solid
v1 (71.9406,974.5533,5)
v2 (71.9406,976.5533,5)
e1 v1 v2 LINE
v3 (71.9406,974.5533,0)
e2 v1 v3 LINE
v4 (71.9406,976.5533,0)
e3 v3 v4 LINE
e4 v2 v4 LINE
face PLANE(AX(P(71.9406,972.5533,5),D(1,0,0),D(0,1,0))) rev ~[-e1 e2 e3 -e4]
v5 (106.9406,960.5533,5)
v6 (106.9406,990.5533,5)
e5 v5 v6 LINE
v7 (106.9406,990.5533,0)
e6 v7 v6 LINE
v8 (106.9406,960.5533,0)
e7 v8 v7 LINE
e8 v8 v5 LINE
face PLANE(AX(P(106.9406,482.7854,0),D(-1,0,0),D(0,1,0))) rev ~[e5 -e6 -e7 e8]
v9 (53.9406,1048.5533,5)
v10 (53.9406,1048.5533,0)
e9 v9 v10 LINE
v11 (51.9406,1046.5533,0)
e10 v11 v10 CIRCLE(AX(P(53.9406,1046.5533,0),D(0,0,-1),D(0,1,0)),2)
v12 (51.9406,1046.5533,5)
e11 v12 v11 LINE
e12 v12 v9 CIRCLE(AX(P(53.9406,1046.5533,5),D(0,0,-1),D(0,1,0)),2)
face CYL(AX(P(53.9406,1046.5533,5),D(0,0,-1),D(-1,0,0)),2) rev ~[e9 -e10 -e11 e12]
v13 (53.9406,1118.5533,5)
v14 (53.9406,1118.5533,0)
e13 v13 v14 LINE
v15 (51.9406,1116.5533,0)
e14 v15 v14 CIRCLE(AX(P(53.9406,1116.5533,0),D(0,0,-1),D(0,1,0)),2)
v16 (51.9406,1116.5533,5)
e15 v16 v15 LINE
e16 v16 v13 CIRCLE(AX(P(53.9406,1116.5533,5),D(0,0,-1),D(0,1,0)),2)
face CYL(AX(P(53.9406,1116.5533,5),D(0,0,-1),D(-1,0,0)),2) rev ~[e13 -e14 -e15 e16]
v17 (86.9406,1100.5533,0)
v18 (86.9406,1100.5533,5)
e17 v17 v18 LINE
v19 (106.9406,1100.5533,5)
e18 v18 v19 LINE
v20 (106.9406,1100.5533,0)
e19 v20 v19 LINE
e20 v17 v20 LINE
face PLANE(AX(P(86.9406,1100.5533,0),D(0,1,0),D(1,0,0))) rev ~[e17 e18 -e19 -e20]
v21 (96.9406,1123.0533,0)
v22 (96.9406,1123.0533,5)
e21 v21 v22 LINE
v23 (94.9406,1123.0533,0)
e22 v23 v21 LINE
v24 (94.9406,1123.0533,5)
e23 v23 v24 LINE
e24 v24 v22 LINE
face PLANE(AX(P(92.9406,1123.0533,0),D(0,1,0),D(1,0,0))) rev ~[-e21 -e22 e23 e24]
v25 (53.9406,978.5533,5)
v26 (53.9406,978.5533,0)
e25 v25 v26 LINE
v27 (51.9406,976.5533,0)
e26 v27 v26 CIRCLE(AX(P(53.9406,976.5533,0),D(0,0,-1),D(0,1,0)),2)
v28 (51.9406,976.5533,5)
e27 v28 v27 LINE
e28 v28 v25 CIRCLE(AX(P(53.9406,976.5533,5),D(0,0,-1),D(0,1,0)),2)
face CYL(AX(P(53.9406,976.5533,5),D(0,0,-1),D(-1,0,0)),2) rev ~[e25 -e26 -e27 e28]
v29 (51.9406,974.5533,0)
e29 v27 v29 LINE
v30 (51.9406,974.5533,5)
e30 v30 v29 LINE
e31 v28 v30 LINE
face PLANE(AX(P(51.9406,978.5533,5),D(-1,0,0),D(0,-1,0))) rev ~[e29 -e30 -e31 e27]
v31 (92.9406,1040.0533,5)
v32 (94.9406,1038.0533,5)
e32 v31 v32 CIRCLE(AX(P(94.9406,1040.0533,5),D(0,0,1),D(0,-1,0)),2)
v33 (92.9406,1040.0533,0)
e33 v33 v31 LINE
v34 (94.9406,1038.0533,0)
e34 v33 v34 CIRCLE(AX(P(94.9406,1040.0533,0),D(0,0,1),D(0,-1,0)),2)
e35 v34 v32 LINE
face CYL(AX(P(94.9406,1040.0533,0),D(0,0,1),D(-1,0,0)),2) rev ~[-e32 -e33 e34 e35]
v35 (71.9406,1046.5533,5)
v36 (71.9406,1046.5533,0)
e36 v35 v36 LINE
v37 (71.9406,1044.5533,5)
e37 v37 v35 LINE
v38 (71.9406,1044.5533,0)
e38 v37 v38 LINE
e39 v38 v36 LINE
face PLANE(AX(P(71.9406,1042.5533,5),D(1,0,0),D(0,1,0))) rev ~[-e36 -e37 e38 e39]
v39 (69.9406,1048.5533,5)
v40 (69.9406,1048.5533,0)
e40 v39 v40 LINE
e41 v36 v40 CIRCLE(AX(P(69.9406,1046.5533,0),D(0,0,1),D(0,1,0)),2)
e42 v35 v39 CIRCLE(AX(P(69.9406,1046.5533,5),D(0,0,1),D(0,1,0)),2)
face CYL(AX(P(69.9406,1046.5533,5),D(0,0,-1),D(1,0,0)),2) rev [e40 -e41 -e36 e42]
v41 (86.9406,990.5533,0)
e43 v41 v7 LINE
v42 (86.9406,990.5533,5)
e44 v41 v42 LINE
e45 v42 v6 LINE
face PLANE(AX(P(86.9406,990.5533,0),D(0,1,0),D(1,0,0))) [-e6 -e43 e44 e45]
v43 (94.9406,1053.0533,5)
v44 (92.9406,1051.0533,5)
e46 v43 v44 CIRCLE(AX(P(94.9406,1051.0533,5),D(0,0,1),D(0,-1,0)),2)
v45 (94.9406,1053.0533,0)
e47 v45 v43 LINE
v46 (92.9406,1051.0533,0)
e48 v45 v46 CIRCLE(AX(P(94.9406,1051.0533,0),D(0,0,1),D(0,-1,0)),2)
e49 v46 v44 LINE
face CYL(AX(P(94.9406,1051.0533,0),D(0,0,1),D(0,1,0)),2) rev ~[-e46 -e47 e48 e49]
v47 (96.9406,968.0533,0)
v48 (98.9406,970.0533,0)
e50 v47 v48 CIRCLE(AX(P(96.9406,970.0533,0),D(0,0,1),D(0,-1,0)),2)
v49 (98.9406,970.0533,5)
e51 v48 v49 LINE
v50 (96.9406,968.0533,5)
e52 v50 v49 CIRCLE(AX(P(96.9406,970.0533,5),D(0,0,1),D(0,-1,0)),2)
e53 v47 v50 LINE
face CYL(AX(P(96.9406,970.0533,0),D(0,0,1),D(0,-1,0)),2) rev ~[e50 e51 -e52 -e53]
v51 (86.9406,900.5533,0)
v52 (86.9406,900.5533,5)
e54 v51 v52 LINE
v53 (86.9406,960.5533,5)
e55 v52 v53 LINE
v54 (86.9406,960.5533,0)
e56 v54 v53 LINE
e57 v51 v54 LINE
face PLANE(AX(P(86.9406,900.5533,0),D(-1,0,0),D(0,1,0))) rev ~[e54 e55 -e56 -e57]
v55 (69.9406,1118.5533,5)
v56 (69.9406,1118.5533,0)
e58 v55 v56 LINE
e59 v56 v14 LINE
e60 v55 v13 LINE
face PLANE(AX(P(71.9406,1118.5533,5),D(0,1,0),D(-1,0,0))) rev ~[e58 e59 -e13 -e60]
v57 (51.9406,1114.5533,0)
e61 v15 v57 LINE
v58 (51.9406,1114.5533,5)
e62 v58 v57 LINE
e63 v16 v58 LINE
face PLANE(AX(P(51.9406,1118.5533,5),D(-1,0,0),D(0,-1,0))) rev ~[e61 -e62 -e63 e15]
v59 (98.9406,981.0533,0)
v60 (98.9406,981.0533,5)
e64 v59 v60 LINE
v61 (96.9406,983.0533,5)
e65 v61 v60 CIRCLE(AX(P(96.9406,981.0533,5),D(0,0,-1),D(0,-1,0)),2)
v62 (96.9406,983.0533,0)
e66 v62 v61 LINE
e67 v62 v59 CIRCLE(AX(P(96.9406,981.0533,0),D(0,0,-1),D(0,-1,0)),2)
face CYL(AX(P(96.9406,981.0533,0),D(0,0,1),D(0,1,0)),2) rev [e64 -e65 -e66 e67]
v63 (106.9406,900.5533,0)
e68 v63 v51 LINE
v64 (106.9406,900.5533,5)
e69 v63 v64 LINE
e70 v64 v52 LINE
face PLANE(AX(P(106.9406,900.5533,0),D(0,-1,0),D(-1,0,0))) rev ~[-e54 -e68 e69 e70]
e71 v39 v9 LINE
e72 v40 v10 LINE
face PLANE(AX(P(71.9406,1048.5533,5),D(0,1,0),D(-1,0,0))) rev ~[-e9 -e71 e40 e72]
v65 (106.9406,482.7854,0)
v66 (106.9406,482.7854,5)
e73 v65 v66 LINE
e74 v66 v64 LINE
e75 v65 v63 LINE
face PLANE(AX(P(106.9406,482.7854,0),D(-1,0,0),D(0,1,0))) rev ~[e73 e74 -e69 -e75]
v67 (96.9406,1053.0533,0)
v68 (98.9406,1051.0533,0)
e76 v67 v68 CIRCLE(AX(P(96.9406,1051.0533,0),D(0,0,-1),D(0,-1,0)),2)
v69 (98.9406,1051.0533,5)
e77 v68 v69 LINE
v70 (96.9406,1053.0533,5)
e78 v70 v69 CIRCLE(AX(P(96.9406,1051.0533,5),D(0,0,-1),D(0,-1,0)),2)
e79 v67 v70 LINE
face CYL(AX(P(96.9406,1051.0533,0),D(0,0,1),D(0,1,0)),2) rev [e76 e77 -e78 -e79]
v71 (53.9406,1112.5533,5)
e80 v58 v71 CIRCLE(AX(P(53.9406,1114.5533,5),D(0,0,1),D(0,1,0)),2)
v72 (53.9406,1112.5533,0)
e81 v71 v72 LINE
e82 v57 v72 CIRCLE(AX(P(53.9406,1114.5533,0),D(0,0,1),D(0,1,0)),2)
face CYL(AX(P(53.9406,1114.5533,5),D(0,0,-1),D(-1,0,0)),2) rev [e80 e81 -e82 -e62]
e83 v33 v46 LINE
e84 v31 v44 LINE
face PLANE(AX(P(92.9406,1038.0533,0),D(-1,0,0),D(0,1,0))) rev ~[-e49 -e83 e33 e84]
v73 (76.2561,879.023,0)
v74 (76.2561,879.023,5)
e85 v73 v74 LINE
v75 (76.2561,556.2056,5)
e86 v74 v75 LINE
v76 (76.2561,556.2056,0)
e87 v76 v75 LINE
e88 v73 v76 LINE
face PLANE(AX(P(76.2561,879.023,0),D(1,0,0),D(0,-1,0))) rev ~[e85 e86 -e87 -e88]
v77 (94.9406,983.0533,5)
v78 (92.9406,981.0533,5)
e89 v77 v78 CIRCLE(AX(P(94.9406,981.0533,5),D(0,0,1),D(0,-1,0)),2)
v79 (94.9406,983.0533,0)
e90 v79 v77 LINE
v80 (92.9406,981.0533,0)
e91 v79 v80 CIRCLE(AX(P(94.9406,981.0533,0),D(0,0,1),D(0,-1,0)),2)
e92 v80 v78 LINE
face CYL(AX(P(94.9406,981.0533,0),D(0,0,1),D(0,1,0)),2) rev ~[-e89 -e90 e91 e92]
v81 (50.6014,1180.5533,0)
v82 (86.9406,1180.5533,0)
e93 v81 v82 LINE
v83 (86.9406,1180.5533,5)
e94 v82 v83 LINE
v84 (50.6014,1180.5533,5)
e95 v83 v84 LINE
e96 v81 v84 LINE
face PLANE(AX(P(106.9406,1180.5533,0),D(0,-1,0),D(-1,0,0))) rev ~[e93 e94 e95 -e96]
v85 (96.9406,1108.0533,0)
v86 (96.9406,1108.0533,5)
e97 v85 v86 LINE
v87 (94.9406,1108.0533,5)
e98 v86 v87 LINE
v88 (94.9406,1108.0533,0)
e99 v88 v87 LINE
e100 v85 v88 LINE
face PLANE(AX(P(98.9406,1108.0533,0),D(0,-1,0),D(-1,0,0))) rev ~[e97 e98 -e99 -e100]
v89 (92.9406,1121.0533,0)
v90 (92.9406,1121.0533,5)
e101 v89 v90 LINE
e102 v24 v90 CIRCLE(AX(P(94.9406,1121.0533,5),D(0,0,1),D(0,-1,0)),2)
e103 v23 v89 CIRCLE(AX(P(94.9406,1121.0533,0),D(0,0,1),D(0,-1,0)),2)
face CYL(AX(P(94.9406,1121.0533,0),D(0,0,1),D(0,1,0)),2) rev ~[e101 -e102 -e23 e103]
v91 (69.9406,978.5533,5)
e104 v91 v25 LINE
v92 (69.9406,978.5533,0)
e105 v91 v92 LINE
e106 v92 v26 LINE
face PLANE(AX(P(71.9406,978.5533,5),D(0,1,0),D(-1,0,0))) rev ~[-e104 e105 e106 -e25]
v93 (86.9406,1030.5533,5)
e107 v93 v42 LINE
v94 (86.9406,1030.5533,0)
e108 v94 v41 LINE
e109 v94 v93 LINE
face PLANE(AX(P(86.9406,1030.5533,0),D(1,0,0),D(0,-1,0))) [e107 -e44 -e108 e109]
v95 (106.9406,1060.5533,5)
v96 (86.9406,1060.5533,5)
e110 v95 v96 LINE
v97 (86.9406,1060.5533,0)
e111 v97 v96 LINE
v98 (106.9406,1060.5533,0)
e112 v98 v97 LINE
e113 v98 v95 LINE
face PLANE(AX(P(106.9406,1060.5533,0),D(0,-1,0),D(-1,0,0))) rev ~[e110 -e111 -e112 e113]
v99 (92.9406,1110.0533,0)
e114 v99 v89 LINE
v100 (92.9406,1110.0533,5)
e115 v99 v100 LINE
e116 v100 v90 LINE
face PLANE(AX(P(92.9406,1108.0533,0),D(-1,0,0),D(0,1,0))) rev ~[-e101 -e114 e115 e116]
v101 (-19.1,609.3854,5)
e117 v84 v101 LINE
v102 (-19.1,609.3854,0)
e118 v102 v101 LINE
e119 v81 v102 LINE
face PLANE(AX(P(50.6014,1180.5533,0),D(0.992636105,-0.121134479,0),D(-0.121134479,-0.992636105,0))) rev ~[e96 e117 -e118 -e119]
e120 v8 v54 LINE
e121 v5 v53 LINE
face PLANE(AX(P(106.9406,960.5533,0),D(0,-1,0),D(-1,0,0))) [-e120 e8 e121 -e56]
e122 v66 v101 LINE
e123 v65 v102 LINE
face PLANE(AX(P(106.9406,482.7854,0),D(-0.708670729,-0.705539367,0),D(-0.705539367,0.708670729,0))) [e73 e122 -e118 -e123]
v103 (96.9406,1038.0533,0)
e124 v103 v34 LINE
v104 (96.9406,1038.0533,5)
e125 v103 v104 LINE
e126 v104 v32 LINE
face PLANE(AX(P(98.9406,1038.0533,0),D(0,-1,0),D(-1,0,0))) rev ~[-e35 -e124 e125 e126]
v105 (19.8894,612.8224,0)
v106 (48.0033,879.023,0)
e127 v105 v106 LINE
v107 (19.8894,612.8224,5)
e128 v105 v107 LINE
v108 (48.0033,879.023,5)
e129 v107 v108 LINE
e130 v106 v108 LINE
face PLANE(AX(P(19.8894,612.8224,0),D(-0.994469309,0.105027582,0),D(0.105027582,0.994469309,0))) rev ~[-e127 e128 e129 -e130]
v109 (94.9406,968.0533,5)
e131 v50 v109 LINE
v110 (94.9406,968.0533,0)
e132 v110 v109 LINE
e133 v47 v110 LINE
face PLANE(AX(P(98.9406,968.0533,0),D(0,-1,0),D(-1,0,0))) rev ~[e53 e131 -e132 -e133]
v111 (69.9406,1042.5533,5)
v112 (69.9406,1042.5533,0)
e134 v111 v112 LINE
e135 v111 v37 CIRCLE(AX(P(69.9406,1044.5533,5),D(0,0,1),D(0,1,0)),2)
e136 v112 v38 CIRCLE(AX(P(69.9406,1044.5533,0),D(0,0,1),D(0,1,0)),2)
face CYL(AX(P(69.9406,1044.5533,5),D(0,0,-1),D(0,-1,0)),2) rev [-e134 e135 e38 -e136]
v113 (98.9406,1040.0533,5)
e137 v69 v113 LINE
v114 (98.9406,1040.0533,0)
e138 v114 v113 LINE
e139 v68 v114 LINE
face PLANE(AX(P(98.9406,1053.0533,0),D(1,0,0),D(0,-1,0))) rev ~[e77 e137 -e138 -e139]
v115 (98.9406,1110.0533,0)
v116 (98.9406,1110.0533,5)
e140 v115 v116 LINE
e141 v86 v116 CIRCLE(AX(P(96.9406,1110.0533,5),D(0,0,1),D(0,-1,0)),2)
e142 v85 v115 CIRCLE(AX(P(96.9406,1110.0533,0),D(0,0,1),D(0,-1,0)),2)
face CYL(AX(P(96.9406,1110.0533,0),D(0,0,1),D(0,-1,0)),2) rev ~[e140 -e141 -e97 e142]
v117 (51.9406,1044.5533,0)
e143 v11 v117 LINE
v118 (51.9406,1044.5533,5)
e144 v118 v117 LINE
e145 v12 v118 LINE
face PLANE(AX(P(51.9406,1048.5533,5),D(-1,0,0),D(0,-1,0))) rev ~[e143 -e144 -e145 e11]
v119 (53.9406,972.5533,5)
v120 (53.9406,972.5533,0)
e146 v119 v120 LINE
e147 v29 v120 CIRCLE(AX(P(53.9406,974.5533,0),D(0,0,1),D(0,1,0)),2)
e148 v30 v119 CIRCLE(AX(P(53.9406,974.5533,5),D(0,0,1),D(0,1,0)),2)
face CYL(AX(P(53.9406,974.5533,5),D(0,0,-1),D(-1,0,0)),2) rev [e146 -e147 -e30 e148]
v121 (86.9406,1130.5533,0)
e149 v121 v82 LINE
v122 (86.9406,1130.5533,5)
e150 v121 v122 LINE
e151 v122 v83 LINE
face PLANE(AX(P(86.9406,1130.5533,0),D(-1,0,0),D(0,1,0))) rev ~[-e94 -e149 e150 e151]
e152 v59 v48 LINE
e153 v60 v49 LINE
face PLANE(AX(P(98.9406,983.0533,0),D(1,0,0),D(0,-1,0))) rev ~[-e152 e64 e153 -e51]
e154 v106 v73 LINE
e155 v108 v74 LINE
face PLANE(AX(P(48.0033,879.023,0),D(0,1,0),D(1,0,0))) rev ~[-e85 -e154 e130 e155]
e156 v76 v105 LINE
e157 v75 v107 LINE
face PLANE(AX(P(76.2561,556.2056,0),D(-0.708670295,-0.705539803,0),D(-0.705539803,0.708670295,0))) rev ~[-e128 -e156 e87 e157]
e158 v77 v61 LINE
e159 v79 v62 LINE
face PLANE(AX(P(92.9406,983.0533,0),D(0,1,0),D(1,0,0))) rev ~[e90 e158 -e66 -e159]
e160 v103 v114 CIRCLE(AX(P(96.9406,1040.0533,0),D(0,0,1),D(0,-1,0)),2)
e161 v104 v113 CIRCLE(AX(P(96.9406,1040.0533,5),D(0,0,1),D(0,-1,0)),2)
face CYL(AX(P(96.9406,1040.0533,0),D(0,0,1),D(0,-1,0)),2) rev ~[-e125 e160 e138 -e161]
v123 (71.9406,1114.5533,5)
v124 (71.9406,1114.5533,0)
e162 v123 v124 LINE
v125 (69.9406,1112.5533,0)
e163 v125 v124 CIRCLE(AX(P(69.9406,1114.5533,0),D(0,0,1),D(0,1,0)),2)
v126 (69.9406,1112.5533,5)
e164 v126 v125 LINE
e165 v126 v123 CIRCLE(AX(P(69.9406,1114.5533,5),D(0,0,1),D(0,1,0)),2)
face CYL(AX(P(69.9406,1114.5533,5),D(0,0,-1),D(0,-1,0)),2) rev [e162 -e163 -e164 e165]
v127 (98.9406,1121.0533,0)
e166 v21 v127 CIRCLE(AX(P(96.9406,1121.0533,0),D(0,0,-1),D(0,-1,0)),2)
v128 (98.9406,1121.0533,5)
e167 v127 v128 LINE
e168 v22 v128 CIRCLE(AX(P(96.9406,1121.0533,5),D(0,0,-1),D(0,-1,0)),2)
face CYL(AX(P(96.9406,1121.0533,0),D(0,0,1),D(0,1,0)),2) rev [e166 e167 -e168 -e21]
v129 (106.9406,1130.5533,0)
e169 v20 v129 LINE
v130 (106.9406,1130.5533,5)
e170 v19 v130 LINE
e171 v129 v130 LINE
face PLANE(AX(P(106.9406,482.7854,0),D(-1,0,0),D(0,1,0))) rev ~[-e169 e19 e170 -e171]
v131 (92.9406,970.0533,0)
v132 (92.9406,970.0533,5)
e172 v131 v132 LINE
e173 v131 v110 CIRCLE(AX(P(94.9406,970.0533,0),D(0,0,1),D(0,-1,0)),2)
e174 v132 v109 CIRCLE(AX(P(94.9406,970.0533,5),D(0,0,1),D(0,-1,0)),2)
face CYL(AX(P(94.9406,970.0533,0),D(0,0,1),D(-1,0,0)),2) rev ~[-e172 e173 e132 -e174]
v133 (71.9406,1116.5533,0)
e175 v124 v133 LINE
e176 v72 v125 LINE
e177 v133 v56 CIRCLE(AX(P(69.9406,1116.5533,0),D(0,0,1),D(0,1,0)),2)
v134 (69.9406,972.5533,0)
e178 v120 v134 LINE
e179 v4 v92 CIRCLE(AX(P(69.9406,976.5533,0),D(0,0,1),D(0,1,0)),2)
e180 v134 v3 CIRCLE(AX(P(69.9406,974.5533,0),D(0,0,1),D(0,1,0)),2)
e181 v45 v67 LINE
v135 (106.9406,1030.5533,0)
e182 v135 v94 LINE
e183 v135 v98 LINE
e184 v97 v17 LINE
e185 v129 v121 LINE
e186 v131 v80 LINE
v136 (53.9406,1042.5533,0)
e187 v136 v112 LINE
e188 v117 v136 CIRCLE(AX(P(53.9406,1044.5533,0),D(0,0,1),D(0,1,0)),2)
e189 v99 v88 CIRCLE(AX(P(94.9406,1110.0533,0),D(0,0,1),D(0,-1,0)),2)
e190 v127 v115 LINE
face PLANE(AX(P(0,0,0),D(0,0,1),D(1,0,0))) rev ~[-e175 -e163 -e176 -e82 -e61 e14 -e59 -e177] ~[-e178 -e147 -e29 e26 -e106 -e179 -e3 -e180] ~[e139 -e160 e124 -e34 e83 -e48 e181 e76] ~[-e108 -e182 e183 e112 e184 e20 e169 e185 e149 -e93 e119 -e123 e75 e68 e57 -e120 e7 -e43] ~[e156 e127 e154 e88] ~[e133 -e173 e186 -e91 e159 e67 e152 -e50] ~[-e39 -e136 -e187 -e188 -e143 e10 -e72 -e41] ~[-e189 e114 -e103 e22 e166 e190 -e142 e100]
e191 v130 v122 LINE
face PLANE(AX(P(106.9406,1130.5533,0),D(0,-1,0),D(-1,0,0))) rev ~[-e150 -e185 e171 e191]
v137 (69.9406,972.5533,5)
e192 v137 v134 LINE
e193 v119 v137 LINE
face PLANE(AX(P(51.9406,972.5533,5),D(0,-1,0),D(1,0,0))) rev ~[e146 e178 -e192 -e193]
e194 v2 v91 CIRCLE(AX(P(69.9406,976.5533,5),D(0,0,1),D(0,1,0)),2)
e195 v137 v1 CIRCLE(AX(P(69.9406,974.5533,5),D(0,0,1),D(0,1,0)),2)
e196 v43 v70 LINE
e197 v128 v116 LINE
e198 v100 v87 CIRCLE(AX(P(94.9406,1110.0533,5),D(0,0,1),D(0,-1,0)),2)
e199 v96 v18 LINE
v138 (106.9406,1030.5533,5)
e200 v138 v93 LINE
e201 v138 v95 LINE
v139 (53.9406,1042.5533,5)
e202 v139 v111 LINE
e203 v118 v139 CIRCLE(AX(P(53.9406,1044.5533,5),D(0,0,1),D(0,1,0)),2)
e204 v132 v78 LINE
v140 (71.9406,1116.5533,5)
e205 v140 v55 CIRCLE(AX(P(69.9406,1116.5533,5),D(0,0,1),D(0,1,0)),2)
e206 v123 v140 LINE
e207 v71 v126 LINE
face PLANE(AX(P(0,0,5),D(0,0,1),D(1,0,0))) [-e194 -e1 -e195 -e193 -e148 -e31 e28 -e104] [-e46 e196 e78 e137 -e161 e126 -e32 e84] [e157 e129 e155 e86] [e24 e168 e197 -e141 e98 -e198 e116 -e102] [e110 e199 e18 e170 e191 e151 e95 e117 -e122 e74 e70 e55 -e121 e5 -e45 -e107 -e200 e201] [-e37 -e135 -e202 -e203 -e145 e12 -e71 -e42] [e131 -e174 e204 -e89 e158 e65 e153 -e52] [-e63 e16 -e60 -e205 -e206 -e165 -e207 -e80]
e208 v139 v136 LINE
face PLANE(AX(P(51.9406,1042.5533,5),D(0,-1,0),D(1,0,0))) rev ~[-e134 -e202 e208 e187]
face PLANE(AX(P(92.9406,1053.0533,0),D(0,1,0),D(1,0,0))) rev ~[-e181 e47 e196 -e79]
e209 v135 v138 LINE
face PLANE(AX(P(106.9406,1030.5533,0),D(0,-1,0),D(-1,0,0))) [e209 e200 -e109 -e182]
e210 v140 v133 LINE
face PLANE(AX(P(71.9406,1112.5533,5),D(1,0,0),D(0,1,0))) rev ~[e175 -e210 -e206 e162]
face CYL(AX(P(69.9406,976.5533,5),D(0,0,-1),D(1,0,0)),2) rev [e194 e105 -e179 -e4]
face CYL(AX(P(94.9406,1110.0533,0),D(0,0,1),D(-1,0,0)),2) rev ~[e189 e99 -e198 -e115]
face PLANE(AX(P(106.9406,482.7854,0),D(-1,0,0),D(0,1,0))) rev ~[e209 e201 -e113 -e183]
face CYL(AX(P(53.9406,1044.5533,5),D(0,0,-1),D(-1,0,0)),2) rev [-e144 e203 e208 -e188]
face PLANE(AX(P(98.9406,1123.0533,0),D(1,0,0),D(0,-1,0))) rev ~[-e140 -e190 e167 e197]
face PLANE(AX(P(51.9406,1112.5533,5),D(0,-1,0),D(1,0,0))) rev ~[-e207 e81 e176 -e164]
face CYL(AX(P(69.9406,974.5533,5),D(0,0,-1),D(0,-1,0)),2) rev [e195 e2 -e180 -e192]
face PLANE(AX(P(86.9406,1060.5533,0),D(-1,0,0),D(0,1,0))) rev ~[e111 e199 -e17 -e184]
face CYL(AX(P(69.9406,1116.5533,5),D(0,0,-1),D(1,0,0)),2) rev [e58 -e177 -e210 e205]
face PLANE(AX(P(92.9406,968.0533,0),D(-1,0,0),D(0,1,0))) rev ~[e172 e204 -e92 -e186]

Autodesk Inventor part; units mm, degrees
ref_plane "YZ Plane" through (0, 0, 0) normal (1, 0, 0) x (0, 1, 0)
ref_plane "XZ Plane" through (0, 0, 0) normal (0, 1, 0) x (-1, 0, 0)
ref_plane "XY Plane" through (0, 0, 0) normal (0, 0, 1) x (1, 0, 0)
sketch "Szkic1" plane through (0, 0, 0) normal (0, 0, 1) x (1, 0, 0)
  line L0 (176.3308, 486.6406) -> (176.3308, 940.0878) construction
  line L1 (146.3308, 1046.0878) -> (146.3308, 531.0878) construction
  line L2 (246.3308, 494.0715) -> (246.3308, 1046.1041) construction
  line L3 (-96.6896, 915.5533) -> (106.9406, 915.5533) construction
  line L4 (106.9406, 482.7854) -> (106.9406, 1180.5533)
  line L5 (106.9406, 482.7854) -> (-19.1, 609.3854)
  line L6 (50.6014, 1180.5533) -> (-19.1, 609.3854)
  line L7 (19.8894, 612.8224) -> (76.2561, 1146.5389)
  line L8 (76.2561, 1146.5389) -> (76.2561, 556.2056)
  line L9 (43.2451, 833.9694) -> (8.8194, 838.1705) construction
  line L10 (76.2561, 556.2056) -> (54.9566, 535.0002) construction
  line L11 (76.2561, 613.2072) -> (106.9406, 613.2072) construction
  line L12 (76.2561, 556.2056) -> (19.8894, 612.8224)
  line L13 (14.654, 575.0721) -> (120.72, 469.0061) construction
  line L14 (10.3406, 579.3854) -> (14.654, 575.0721) construction
  line L15 (-19.1, 622) -> (-19.1, 0) construction
  line L16 (-8.2, 622) -> (-16.1, 622) construction
  line L17 (-6.6931, 622) -> (-1.5069, 622) construction
  line L18 (-19.1, 622) -> (-16.1, 622) construction
  line L19 (7.9, 622) -> (0, 622) construction
  line L20 (10.9, 621.8118) -> (36.4266, 596.2853) construction
  line L21 (36.4266, 596.2853) -> (142.1601, 489.8877) construction
  line L22 (48.0033, 879.023) -> (76.2561, 879.023)
  line L23 (91.9406, 1180.5533) -> (424.3104, 1180.5533) construction
  line L24 (106.9406, 915.5533) -> (383.3104, 915.5533) construction
  line L25 (91.9406, 1180.5533) -> (50.6014, 1180.5533)
  line L26 (106.9406, 1180.5533) -> (50.6014, 1180.5533)
  point P0 (0, 0)
  dimension "d0" = 30
  dimension "d1" = 100
ref_plane "Płaszczyzna konstrukcyjna1" through (0, 0, 5) normal (0, 0, 1) x (1, 0, 0)
extrude "Wyciągnięcie proste4" add sketch "Szkic1" along normal blind 5 contours L5 L6 L25 L26 L4 | L7 L8 L22
sketch "Szkic3" plane through (0, 0, 0) normal (0, 0, -1) x (-1, 0, 0)
  line L0 (-48.0033, 879.023) -> (-19.8894, 612.8224) projected
  line L1 (-19.8894, 612.8224) -> (-76.2561, 556.2056) projected
  line L2 (-76.2561, 556.2056) -> (-76.2561, 879.023) projected
  line L3 (-76.2561, 879.023) -> (-48.0033, 879.023) projected
  line L4 (-106.9406, 1180.5533) -> (-106.9406, 482.7854) projected
  line L5 (-106.9406, 482.7854) -> (19.1, 609.3854) projected
  line L6 (19.1, 609.3854) -> (-50.6014, 1180.5533) projected
  line L7 (-50.6014, 1180.5533) -> (-106.9406, 1180.5533) construction
  line L8 (-106.9406, 482.7854) -> (-106.9406, 1180.5533) projected
  line L9 (-106.9406, 1060.5533) -> (-86.9406, 1060.5533)
  line L10 (-86.9406, 1060.5533) -> (-86.9406, 1100.5533)
  line L11 (-86.9406, 1100.5533) -> (-106.9406, 1100.5533)
  line L12 (-106.9406, 1100.5533) -> (-106.9406, 1060.5533)
  line L13 (-106.9406, 1130.5533) -> (-86.9406, 1130.5533)
  line L14 (-86.9406, 1130.5533) -> (-86.9406, 1180.5533)
  line L15 (-86.9406, 1180.5533) -> (-106.9406, 1180.5533)
  line L16 (-106.9406, 1180.5533) -> (-106.9406, 1130.5533)
  line L17 (-106.9406, 1030.5533) -> (-86.9406, 1030.5533)
  line L18 (-86.9406, 1030.5533) -> (-86.9406, 990.5533)
  line L19 (-86.9406, 990.5533) -> (-106.9406, 990.5533)
  line L20 (-106.9406, 990.5533) -> (-106.9406, 1030.5533)
  line L21 (-226, 915.5533) -> (53, 915.5533) construction
  line L22 (-86.9406, 990.5533) -> (-106.9406, 990.5533)
  line L23 (-106.9406, 990.5533) -> (-106.9406, 960.5533)
  line L24 (-106.9406, 960.5533) -> (-86.9406, 960.5533)
  line L25 (-86.9406, 960.5533) -> (-106.9406, 960.5533)
  line L26 (-106.9406, 960.5533) -> (-106.9406, 900.5533)
  line L27 (-106.9406, 900.5533) -> (-86.9406, 900.5533)
  line L28 (-86.9406, 900.5533) -> (-86.9406, 960.5533)
  line L29 (-98.9406, 968.0533) -> (-92.9406, 968.0533)
  line L30 (-92.9406, 968.0533) -> (-92.9406, 983.0533)
  line L31 (-92.9406, 983.0533) -> (-98.9406, 983.0533)
  line L32 (-98.9406, 983.0533) -> (-98.9406, 968.0533)
  line L33 (-98.9406, 1038.0533) -> (-92.9406, 1038.0533)
  line L34 (-92.9406, 1038.0533) -> (-92.9406, 1053.0533)
  line L35 (-92.9406, 1053.0533) -> (-98.9406, 1053.0533)
  line L36 (-98.9406, 1053.0533) -> (-98.9406, 1038.0533)
  line L37 (-98.9406, 1108.0533) -> (-92.9406, 1108.0533)
  line L38 (-92.9406, 1108.0533) -> (-92.9406, 1123.0533)
  line L39 (-92.9406, 1123.0533) -> (-98.9406, 1123.0533)
  line L40 (-98.9406, 1123.0533) -> (-98.9406, 1108.0533)
  point P0 (0, 0)
  dimension "d28" = 265
  dimension "d30" = 30
  dimension "d31" = 30
  dimension "d32" = 40
  dimension "d33" = 40
  dimension "d34" = 30
  dimension "d38" = 20
  dimension "d39" = 6
  dimension "d40" = 15
  dimension "d41" = 6
  dimension "d42" = 15
  dimension "d43" = 6
  dimension "d44" = 15
  dimension "d45" = 7.5
  dimension "d46" = 7.5
  dimension "d47" = 7.5
  dimension "d48" = 8
  dimension "d49" = 8
  dimension "d64" = 50
extrude "Wyciągnięcie proste5" cut sketch "Szkic3" against normal blind 5 contours L15 L14 L13 L4 | L24 L28 L27 L4 | L17 L18 L19 L4 | L11 L10 L9 L4 | L32 L31 L30 L29 | L36 L35 L34 L33 | L40 L39 L38 L37
fillet "Zaokrąglenie1" radius 2 12 edges at (98.9406, 968.0533, 2.5) (92.9406, 968.0533, 2.5) (92.9406, 983.0533, 2.5) (98.9406, 983.0533, 2.5) (98.9406, 1053.0533, 2.5) (98.9406, 1038.0533, 2.5) (92.9406, 1038.0533, 2.5) (92.9406, 1053.0533, 2.5) (92.9406, 1123.0533, 2.5) (92.9406, 1108.0533, 2.5) (98.9406, 1108.0533, 2.5) (98.9406, 1123.0533, 2.5)
sketch "Szkic4" plane through (0, 0, 5) normal (0, 0, 1) x (1, 0, 0)
  line L0 (19.8894, 612.8224) -> (48.0033, 879.023) projected
  line L1 (48.0033, 879.023) -> (76.2561, 879.023) projected
  line L2 (76.2561, 879.023) -> (76.2561, 556.2056) projected
  line L3 (76.2561, 556.2056) -> (19.8894, 612.8224) projected
  line L4 (92.9406, 1110.0533) -> (92.9406, 1121.0533) projected
  arc A0 (94.9406, 1123.0533) -> (92.9406, 1121.0533) centre (94.9406, 1121.0533) ccw projected
  line L5 (94.9406, 1123.0533) -> (96.9406, 1123.0533) projected
  arc A1 (98.9406, 1121.0533) -> (96.9406, 1123.0533) centre (96.9406, 1121.0533) ccw projected
  line L6 (98.9406, 1121.0533) -> (98.9406, 1110.0533) projected
  arc A2 (96.9406, 1108.0533) -> (98.9406, 1110.0533) centre (96.9406, 1110.0533) ccw projected
  line L7 (96.9406, 1108.0533) -> (94.9406, 1108.0533) projected
  arc A3 (92.9406, 1110.0533) -> (94.9406, 1108.0533) centre (94.9406, 1110.0533) ccw projected
  line L8 (92.9406, 970.0533) -> (92.9406, 981.0533) projected
  arc A4 (94.9406, 983.0533) -> (92.9406, 981.0533) centre (94.9406, 981.0533) ccw projected
  line L9 (94.9406, 983.0533) -> (96.9406, 983.0533) projected
  arc A5 (98.9406, 981.0533) -> (96.9406, 983.0533) centre (96.9406, 981.0533) ccw projected
  line L10 (98.9406, 981.0533) -> (98.9406, 970.0533) projected
  arc A6 (96.9406, 968.0533) -> (98.9406, 970.0533) centre (96.9406, 970.0533) ccw projected
  line L11 (96.9406, 968.0533) -> (94.9406, 968.0533) projected
  arc A7 (92.9406, 970.0533) -> (94.9406, 968.0533) centre (94.9406, 970.0533) ccw projected
  line L12 (92.9406, 1040.0533) -> (92.9406, 1051.0533) projected
  arc A8 (94.9406, 1053.0533) -> (92.9406, 1051.0533) centre (94.9406, 1051.0533) ccw projected
  line L13 (94.9406, 1053.0533) -> (96.9406, 1053.0533) projected
  arc A9 (98.9406, 1051.0533) -> (96.9406, 1053.0533) centre (96.9406, 1051.0533) ccw projected
  line L14 (98.9406, 1051.0533) -> (98.9406, 1040.0533) projected
  arc A10 (96.9406, 1038.0533) -> (98.9406, 1040.0533) centre (96.9406, 1040.0533) ccw projected
  line L15 (96.9406, 1038.0533) -> (94.9406, 1038.0533) projected
  arc A11 (92.9406, 1040.0533) -> (94.9406, 1038.0533) centre (94.9406, 1040.0533) ccw projected
  line L16 (106.9406, 990.5533) -> (86.9406, 990.5533) projected
  line L17 (86.9406, 990.5533) -> (86.9406, 1030.5533) projected
  line L18 (86.9406, 1030.5533) -> (106.9406, 1030.5533) projected
  line L19 (106.9406, 1030.5533) -> (106.9406, 1060.5533) projected
  line L20 (106.9406, 1060.5533) -> (86.9406, 1060.5533) projected
  line L21 (86.9406, 1060.5533) -> (86.9406, 1100.5533) projected
  line L22 (86.9406, 1100.5533) -> (106.9406, 1100.5533) projected
  line L23 (106.9406, 1100.5533) -> (106.9406, 1130.5533) projected
  line L24 (106.9406, 1130.5533) -> (86.9406, 1130.5533) projected
  line L25 (86.9406, 1130.5533) -> (86.9406, 1180.5533) projected
  line L26 (86.9406, 1180.5533) -> (50.6014, 1180.5533) projected
  line L27 (50.6014, 1180.5533) -> (-19.1, 609.3854) projected
  line L28 (-19.1, 609.3854) -> (106.9406, 482.7854) projected
  line L29 (106.9406, 482.7854) -> (106.9406, 900.5533) projected
  line L30 (106.9406, 900.5533) -> (86.9406, 900.5533) projected
  line L31 (86.9406, 900.5533) -> (86.9406, 960.5533) projected
  line L32 (86.9406, 960.5533) -> (106.9406, 960.5533) projected
  line L33 (106.9406, 960.5533) -> (106.9406, 990.5533) projected
  line L34 (51.9406, 972.5533) -> (71.9406, 972.5533)
  line L35 (71.9406, 972.5533) -> (71.9406, 978.5533)
  line L36 (71.9406, 978.5533) -> (51.9406, 978.5533)
  line L37 (51.9406, 978.5533) -> (51.9406, 972.5533)
  line L38 (51.9406, 1042.5533) -> (71.9406, 1042.5533)
  line L39 (71.9406, 1042.5533) -> (71.9406, 1048.5533)
  line L40 (71.9406, 1048.5533) -> (51.9406, 1048.5533)
  line L41 (51.9406, 1048.5533) -> (51.9406, 1042.5533)
  line L42 (51.9406, 1112.5533) -> (71.9406, 1112.5533)
  line L43 (71.9406, 1112.5533) -> (71.9406, 1118.5533)
  line L44 (71.9406, 1118.5533) -> (51.9406, 1118.5533)
  line L45 (51.9406, 1118.5533) -> (51.9406, 1112.5533)
  point P0 (0, 0)
  dimension "d51" = 20
  dimension "d52" = 6
  dimension "d53" = 20
  dimension "d54" = 6
  dimension "d55" = 20
  dimension "d56" = 6
  dimension "d57" = 64
  dimension "d58" = 64
  dimension "d59" = 12
  dimension "d60" = 15
extrude "Wyciągnięcie proste6" cut sketch "Szkic4" against normal blind 5 contours L37 L36 L35 L34 | L41 L40 L39 L38 | L45 L44 L43 L42
fillet "Zaokrąglenie2" radius 2 12 edges at (51.9406, 972.5533, 2.5) (71.9406, 972.5533, 2.5) (71.9406, 978.5533, 2.5) (51.9406, 978.5533, 2.5) (51.9406, 1048.5533, 2.5) (51.9406, 1042.5533, 2.5) (71.9406, 1042.5533, 2.5) (71.9406, 1048.5533, 2.5) (71.9406, 1118.5533, 2.5) (51.9406, 1118.5533, 2.5) (71.9406, 1112.5533, 2.5) (51.9406, 1112.5533, 2.5)
equation "\"d30\" = d34"
equation "\"d31\" = d34"
equation "\"d32\" = d33"
equation "\"d39\" = d43"
equation "\"d40\" = d44"
equation "\"d41\" = d43"
equation "\"d42\" = d40"
equation "\"d46\" = d45"
equation "\"d47\" = d46"
equation "\"d49\" = d48"
equation "\"d53\" = d51"
equation "\"d55\" = d51"
equation "\"d58\" = d57"
properties part number "bok"
